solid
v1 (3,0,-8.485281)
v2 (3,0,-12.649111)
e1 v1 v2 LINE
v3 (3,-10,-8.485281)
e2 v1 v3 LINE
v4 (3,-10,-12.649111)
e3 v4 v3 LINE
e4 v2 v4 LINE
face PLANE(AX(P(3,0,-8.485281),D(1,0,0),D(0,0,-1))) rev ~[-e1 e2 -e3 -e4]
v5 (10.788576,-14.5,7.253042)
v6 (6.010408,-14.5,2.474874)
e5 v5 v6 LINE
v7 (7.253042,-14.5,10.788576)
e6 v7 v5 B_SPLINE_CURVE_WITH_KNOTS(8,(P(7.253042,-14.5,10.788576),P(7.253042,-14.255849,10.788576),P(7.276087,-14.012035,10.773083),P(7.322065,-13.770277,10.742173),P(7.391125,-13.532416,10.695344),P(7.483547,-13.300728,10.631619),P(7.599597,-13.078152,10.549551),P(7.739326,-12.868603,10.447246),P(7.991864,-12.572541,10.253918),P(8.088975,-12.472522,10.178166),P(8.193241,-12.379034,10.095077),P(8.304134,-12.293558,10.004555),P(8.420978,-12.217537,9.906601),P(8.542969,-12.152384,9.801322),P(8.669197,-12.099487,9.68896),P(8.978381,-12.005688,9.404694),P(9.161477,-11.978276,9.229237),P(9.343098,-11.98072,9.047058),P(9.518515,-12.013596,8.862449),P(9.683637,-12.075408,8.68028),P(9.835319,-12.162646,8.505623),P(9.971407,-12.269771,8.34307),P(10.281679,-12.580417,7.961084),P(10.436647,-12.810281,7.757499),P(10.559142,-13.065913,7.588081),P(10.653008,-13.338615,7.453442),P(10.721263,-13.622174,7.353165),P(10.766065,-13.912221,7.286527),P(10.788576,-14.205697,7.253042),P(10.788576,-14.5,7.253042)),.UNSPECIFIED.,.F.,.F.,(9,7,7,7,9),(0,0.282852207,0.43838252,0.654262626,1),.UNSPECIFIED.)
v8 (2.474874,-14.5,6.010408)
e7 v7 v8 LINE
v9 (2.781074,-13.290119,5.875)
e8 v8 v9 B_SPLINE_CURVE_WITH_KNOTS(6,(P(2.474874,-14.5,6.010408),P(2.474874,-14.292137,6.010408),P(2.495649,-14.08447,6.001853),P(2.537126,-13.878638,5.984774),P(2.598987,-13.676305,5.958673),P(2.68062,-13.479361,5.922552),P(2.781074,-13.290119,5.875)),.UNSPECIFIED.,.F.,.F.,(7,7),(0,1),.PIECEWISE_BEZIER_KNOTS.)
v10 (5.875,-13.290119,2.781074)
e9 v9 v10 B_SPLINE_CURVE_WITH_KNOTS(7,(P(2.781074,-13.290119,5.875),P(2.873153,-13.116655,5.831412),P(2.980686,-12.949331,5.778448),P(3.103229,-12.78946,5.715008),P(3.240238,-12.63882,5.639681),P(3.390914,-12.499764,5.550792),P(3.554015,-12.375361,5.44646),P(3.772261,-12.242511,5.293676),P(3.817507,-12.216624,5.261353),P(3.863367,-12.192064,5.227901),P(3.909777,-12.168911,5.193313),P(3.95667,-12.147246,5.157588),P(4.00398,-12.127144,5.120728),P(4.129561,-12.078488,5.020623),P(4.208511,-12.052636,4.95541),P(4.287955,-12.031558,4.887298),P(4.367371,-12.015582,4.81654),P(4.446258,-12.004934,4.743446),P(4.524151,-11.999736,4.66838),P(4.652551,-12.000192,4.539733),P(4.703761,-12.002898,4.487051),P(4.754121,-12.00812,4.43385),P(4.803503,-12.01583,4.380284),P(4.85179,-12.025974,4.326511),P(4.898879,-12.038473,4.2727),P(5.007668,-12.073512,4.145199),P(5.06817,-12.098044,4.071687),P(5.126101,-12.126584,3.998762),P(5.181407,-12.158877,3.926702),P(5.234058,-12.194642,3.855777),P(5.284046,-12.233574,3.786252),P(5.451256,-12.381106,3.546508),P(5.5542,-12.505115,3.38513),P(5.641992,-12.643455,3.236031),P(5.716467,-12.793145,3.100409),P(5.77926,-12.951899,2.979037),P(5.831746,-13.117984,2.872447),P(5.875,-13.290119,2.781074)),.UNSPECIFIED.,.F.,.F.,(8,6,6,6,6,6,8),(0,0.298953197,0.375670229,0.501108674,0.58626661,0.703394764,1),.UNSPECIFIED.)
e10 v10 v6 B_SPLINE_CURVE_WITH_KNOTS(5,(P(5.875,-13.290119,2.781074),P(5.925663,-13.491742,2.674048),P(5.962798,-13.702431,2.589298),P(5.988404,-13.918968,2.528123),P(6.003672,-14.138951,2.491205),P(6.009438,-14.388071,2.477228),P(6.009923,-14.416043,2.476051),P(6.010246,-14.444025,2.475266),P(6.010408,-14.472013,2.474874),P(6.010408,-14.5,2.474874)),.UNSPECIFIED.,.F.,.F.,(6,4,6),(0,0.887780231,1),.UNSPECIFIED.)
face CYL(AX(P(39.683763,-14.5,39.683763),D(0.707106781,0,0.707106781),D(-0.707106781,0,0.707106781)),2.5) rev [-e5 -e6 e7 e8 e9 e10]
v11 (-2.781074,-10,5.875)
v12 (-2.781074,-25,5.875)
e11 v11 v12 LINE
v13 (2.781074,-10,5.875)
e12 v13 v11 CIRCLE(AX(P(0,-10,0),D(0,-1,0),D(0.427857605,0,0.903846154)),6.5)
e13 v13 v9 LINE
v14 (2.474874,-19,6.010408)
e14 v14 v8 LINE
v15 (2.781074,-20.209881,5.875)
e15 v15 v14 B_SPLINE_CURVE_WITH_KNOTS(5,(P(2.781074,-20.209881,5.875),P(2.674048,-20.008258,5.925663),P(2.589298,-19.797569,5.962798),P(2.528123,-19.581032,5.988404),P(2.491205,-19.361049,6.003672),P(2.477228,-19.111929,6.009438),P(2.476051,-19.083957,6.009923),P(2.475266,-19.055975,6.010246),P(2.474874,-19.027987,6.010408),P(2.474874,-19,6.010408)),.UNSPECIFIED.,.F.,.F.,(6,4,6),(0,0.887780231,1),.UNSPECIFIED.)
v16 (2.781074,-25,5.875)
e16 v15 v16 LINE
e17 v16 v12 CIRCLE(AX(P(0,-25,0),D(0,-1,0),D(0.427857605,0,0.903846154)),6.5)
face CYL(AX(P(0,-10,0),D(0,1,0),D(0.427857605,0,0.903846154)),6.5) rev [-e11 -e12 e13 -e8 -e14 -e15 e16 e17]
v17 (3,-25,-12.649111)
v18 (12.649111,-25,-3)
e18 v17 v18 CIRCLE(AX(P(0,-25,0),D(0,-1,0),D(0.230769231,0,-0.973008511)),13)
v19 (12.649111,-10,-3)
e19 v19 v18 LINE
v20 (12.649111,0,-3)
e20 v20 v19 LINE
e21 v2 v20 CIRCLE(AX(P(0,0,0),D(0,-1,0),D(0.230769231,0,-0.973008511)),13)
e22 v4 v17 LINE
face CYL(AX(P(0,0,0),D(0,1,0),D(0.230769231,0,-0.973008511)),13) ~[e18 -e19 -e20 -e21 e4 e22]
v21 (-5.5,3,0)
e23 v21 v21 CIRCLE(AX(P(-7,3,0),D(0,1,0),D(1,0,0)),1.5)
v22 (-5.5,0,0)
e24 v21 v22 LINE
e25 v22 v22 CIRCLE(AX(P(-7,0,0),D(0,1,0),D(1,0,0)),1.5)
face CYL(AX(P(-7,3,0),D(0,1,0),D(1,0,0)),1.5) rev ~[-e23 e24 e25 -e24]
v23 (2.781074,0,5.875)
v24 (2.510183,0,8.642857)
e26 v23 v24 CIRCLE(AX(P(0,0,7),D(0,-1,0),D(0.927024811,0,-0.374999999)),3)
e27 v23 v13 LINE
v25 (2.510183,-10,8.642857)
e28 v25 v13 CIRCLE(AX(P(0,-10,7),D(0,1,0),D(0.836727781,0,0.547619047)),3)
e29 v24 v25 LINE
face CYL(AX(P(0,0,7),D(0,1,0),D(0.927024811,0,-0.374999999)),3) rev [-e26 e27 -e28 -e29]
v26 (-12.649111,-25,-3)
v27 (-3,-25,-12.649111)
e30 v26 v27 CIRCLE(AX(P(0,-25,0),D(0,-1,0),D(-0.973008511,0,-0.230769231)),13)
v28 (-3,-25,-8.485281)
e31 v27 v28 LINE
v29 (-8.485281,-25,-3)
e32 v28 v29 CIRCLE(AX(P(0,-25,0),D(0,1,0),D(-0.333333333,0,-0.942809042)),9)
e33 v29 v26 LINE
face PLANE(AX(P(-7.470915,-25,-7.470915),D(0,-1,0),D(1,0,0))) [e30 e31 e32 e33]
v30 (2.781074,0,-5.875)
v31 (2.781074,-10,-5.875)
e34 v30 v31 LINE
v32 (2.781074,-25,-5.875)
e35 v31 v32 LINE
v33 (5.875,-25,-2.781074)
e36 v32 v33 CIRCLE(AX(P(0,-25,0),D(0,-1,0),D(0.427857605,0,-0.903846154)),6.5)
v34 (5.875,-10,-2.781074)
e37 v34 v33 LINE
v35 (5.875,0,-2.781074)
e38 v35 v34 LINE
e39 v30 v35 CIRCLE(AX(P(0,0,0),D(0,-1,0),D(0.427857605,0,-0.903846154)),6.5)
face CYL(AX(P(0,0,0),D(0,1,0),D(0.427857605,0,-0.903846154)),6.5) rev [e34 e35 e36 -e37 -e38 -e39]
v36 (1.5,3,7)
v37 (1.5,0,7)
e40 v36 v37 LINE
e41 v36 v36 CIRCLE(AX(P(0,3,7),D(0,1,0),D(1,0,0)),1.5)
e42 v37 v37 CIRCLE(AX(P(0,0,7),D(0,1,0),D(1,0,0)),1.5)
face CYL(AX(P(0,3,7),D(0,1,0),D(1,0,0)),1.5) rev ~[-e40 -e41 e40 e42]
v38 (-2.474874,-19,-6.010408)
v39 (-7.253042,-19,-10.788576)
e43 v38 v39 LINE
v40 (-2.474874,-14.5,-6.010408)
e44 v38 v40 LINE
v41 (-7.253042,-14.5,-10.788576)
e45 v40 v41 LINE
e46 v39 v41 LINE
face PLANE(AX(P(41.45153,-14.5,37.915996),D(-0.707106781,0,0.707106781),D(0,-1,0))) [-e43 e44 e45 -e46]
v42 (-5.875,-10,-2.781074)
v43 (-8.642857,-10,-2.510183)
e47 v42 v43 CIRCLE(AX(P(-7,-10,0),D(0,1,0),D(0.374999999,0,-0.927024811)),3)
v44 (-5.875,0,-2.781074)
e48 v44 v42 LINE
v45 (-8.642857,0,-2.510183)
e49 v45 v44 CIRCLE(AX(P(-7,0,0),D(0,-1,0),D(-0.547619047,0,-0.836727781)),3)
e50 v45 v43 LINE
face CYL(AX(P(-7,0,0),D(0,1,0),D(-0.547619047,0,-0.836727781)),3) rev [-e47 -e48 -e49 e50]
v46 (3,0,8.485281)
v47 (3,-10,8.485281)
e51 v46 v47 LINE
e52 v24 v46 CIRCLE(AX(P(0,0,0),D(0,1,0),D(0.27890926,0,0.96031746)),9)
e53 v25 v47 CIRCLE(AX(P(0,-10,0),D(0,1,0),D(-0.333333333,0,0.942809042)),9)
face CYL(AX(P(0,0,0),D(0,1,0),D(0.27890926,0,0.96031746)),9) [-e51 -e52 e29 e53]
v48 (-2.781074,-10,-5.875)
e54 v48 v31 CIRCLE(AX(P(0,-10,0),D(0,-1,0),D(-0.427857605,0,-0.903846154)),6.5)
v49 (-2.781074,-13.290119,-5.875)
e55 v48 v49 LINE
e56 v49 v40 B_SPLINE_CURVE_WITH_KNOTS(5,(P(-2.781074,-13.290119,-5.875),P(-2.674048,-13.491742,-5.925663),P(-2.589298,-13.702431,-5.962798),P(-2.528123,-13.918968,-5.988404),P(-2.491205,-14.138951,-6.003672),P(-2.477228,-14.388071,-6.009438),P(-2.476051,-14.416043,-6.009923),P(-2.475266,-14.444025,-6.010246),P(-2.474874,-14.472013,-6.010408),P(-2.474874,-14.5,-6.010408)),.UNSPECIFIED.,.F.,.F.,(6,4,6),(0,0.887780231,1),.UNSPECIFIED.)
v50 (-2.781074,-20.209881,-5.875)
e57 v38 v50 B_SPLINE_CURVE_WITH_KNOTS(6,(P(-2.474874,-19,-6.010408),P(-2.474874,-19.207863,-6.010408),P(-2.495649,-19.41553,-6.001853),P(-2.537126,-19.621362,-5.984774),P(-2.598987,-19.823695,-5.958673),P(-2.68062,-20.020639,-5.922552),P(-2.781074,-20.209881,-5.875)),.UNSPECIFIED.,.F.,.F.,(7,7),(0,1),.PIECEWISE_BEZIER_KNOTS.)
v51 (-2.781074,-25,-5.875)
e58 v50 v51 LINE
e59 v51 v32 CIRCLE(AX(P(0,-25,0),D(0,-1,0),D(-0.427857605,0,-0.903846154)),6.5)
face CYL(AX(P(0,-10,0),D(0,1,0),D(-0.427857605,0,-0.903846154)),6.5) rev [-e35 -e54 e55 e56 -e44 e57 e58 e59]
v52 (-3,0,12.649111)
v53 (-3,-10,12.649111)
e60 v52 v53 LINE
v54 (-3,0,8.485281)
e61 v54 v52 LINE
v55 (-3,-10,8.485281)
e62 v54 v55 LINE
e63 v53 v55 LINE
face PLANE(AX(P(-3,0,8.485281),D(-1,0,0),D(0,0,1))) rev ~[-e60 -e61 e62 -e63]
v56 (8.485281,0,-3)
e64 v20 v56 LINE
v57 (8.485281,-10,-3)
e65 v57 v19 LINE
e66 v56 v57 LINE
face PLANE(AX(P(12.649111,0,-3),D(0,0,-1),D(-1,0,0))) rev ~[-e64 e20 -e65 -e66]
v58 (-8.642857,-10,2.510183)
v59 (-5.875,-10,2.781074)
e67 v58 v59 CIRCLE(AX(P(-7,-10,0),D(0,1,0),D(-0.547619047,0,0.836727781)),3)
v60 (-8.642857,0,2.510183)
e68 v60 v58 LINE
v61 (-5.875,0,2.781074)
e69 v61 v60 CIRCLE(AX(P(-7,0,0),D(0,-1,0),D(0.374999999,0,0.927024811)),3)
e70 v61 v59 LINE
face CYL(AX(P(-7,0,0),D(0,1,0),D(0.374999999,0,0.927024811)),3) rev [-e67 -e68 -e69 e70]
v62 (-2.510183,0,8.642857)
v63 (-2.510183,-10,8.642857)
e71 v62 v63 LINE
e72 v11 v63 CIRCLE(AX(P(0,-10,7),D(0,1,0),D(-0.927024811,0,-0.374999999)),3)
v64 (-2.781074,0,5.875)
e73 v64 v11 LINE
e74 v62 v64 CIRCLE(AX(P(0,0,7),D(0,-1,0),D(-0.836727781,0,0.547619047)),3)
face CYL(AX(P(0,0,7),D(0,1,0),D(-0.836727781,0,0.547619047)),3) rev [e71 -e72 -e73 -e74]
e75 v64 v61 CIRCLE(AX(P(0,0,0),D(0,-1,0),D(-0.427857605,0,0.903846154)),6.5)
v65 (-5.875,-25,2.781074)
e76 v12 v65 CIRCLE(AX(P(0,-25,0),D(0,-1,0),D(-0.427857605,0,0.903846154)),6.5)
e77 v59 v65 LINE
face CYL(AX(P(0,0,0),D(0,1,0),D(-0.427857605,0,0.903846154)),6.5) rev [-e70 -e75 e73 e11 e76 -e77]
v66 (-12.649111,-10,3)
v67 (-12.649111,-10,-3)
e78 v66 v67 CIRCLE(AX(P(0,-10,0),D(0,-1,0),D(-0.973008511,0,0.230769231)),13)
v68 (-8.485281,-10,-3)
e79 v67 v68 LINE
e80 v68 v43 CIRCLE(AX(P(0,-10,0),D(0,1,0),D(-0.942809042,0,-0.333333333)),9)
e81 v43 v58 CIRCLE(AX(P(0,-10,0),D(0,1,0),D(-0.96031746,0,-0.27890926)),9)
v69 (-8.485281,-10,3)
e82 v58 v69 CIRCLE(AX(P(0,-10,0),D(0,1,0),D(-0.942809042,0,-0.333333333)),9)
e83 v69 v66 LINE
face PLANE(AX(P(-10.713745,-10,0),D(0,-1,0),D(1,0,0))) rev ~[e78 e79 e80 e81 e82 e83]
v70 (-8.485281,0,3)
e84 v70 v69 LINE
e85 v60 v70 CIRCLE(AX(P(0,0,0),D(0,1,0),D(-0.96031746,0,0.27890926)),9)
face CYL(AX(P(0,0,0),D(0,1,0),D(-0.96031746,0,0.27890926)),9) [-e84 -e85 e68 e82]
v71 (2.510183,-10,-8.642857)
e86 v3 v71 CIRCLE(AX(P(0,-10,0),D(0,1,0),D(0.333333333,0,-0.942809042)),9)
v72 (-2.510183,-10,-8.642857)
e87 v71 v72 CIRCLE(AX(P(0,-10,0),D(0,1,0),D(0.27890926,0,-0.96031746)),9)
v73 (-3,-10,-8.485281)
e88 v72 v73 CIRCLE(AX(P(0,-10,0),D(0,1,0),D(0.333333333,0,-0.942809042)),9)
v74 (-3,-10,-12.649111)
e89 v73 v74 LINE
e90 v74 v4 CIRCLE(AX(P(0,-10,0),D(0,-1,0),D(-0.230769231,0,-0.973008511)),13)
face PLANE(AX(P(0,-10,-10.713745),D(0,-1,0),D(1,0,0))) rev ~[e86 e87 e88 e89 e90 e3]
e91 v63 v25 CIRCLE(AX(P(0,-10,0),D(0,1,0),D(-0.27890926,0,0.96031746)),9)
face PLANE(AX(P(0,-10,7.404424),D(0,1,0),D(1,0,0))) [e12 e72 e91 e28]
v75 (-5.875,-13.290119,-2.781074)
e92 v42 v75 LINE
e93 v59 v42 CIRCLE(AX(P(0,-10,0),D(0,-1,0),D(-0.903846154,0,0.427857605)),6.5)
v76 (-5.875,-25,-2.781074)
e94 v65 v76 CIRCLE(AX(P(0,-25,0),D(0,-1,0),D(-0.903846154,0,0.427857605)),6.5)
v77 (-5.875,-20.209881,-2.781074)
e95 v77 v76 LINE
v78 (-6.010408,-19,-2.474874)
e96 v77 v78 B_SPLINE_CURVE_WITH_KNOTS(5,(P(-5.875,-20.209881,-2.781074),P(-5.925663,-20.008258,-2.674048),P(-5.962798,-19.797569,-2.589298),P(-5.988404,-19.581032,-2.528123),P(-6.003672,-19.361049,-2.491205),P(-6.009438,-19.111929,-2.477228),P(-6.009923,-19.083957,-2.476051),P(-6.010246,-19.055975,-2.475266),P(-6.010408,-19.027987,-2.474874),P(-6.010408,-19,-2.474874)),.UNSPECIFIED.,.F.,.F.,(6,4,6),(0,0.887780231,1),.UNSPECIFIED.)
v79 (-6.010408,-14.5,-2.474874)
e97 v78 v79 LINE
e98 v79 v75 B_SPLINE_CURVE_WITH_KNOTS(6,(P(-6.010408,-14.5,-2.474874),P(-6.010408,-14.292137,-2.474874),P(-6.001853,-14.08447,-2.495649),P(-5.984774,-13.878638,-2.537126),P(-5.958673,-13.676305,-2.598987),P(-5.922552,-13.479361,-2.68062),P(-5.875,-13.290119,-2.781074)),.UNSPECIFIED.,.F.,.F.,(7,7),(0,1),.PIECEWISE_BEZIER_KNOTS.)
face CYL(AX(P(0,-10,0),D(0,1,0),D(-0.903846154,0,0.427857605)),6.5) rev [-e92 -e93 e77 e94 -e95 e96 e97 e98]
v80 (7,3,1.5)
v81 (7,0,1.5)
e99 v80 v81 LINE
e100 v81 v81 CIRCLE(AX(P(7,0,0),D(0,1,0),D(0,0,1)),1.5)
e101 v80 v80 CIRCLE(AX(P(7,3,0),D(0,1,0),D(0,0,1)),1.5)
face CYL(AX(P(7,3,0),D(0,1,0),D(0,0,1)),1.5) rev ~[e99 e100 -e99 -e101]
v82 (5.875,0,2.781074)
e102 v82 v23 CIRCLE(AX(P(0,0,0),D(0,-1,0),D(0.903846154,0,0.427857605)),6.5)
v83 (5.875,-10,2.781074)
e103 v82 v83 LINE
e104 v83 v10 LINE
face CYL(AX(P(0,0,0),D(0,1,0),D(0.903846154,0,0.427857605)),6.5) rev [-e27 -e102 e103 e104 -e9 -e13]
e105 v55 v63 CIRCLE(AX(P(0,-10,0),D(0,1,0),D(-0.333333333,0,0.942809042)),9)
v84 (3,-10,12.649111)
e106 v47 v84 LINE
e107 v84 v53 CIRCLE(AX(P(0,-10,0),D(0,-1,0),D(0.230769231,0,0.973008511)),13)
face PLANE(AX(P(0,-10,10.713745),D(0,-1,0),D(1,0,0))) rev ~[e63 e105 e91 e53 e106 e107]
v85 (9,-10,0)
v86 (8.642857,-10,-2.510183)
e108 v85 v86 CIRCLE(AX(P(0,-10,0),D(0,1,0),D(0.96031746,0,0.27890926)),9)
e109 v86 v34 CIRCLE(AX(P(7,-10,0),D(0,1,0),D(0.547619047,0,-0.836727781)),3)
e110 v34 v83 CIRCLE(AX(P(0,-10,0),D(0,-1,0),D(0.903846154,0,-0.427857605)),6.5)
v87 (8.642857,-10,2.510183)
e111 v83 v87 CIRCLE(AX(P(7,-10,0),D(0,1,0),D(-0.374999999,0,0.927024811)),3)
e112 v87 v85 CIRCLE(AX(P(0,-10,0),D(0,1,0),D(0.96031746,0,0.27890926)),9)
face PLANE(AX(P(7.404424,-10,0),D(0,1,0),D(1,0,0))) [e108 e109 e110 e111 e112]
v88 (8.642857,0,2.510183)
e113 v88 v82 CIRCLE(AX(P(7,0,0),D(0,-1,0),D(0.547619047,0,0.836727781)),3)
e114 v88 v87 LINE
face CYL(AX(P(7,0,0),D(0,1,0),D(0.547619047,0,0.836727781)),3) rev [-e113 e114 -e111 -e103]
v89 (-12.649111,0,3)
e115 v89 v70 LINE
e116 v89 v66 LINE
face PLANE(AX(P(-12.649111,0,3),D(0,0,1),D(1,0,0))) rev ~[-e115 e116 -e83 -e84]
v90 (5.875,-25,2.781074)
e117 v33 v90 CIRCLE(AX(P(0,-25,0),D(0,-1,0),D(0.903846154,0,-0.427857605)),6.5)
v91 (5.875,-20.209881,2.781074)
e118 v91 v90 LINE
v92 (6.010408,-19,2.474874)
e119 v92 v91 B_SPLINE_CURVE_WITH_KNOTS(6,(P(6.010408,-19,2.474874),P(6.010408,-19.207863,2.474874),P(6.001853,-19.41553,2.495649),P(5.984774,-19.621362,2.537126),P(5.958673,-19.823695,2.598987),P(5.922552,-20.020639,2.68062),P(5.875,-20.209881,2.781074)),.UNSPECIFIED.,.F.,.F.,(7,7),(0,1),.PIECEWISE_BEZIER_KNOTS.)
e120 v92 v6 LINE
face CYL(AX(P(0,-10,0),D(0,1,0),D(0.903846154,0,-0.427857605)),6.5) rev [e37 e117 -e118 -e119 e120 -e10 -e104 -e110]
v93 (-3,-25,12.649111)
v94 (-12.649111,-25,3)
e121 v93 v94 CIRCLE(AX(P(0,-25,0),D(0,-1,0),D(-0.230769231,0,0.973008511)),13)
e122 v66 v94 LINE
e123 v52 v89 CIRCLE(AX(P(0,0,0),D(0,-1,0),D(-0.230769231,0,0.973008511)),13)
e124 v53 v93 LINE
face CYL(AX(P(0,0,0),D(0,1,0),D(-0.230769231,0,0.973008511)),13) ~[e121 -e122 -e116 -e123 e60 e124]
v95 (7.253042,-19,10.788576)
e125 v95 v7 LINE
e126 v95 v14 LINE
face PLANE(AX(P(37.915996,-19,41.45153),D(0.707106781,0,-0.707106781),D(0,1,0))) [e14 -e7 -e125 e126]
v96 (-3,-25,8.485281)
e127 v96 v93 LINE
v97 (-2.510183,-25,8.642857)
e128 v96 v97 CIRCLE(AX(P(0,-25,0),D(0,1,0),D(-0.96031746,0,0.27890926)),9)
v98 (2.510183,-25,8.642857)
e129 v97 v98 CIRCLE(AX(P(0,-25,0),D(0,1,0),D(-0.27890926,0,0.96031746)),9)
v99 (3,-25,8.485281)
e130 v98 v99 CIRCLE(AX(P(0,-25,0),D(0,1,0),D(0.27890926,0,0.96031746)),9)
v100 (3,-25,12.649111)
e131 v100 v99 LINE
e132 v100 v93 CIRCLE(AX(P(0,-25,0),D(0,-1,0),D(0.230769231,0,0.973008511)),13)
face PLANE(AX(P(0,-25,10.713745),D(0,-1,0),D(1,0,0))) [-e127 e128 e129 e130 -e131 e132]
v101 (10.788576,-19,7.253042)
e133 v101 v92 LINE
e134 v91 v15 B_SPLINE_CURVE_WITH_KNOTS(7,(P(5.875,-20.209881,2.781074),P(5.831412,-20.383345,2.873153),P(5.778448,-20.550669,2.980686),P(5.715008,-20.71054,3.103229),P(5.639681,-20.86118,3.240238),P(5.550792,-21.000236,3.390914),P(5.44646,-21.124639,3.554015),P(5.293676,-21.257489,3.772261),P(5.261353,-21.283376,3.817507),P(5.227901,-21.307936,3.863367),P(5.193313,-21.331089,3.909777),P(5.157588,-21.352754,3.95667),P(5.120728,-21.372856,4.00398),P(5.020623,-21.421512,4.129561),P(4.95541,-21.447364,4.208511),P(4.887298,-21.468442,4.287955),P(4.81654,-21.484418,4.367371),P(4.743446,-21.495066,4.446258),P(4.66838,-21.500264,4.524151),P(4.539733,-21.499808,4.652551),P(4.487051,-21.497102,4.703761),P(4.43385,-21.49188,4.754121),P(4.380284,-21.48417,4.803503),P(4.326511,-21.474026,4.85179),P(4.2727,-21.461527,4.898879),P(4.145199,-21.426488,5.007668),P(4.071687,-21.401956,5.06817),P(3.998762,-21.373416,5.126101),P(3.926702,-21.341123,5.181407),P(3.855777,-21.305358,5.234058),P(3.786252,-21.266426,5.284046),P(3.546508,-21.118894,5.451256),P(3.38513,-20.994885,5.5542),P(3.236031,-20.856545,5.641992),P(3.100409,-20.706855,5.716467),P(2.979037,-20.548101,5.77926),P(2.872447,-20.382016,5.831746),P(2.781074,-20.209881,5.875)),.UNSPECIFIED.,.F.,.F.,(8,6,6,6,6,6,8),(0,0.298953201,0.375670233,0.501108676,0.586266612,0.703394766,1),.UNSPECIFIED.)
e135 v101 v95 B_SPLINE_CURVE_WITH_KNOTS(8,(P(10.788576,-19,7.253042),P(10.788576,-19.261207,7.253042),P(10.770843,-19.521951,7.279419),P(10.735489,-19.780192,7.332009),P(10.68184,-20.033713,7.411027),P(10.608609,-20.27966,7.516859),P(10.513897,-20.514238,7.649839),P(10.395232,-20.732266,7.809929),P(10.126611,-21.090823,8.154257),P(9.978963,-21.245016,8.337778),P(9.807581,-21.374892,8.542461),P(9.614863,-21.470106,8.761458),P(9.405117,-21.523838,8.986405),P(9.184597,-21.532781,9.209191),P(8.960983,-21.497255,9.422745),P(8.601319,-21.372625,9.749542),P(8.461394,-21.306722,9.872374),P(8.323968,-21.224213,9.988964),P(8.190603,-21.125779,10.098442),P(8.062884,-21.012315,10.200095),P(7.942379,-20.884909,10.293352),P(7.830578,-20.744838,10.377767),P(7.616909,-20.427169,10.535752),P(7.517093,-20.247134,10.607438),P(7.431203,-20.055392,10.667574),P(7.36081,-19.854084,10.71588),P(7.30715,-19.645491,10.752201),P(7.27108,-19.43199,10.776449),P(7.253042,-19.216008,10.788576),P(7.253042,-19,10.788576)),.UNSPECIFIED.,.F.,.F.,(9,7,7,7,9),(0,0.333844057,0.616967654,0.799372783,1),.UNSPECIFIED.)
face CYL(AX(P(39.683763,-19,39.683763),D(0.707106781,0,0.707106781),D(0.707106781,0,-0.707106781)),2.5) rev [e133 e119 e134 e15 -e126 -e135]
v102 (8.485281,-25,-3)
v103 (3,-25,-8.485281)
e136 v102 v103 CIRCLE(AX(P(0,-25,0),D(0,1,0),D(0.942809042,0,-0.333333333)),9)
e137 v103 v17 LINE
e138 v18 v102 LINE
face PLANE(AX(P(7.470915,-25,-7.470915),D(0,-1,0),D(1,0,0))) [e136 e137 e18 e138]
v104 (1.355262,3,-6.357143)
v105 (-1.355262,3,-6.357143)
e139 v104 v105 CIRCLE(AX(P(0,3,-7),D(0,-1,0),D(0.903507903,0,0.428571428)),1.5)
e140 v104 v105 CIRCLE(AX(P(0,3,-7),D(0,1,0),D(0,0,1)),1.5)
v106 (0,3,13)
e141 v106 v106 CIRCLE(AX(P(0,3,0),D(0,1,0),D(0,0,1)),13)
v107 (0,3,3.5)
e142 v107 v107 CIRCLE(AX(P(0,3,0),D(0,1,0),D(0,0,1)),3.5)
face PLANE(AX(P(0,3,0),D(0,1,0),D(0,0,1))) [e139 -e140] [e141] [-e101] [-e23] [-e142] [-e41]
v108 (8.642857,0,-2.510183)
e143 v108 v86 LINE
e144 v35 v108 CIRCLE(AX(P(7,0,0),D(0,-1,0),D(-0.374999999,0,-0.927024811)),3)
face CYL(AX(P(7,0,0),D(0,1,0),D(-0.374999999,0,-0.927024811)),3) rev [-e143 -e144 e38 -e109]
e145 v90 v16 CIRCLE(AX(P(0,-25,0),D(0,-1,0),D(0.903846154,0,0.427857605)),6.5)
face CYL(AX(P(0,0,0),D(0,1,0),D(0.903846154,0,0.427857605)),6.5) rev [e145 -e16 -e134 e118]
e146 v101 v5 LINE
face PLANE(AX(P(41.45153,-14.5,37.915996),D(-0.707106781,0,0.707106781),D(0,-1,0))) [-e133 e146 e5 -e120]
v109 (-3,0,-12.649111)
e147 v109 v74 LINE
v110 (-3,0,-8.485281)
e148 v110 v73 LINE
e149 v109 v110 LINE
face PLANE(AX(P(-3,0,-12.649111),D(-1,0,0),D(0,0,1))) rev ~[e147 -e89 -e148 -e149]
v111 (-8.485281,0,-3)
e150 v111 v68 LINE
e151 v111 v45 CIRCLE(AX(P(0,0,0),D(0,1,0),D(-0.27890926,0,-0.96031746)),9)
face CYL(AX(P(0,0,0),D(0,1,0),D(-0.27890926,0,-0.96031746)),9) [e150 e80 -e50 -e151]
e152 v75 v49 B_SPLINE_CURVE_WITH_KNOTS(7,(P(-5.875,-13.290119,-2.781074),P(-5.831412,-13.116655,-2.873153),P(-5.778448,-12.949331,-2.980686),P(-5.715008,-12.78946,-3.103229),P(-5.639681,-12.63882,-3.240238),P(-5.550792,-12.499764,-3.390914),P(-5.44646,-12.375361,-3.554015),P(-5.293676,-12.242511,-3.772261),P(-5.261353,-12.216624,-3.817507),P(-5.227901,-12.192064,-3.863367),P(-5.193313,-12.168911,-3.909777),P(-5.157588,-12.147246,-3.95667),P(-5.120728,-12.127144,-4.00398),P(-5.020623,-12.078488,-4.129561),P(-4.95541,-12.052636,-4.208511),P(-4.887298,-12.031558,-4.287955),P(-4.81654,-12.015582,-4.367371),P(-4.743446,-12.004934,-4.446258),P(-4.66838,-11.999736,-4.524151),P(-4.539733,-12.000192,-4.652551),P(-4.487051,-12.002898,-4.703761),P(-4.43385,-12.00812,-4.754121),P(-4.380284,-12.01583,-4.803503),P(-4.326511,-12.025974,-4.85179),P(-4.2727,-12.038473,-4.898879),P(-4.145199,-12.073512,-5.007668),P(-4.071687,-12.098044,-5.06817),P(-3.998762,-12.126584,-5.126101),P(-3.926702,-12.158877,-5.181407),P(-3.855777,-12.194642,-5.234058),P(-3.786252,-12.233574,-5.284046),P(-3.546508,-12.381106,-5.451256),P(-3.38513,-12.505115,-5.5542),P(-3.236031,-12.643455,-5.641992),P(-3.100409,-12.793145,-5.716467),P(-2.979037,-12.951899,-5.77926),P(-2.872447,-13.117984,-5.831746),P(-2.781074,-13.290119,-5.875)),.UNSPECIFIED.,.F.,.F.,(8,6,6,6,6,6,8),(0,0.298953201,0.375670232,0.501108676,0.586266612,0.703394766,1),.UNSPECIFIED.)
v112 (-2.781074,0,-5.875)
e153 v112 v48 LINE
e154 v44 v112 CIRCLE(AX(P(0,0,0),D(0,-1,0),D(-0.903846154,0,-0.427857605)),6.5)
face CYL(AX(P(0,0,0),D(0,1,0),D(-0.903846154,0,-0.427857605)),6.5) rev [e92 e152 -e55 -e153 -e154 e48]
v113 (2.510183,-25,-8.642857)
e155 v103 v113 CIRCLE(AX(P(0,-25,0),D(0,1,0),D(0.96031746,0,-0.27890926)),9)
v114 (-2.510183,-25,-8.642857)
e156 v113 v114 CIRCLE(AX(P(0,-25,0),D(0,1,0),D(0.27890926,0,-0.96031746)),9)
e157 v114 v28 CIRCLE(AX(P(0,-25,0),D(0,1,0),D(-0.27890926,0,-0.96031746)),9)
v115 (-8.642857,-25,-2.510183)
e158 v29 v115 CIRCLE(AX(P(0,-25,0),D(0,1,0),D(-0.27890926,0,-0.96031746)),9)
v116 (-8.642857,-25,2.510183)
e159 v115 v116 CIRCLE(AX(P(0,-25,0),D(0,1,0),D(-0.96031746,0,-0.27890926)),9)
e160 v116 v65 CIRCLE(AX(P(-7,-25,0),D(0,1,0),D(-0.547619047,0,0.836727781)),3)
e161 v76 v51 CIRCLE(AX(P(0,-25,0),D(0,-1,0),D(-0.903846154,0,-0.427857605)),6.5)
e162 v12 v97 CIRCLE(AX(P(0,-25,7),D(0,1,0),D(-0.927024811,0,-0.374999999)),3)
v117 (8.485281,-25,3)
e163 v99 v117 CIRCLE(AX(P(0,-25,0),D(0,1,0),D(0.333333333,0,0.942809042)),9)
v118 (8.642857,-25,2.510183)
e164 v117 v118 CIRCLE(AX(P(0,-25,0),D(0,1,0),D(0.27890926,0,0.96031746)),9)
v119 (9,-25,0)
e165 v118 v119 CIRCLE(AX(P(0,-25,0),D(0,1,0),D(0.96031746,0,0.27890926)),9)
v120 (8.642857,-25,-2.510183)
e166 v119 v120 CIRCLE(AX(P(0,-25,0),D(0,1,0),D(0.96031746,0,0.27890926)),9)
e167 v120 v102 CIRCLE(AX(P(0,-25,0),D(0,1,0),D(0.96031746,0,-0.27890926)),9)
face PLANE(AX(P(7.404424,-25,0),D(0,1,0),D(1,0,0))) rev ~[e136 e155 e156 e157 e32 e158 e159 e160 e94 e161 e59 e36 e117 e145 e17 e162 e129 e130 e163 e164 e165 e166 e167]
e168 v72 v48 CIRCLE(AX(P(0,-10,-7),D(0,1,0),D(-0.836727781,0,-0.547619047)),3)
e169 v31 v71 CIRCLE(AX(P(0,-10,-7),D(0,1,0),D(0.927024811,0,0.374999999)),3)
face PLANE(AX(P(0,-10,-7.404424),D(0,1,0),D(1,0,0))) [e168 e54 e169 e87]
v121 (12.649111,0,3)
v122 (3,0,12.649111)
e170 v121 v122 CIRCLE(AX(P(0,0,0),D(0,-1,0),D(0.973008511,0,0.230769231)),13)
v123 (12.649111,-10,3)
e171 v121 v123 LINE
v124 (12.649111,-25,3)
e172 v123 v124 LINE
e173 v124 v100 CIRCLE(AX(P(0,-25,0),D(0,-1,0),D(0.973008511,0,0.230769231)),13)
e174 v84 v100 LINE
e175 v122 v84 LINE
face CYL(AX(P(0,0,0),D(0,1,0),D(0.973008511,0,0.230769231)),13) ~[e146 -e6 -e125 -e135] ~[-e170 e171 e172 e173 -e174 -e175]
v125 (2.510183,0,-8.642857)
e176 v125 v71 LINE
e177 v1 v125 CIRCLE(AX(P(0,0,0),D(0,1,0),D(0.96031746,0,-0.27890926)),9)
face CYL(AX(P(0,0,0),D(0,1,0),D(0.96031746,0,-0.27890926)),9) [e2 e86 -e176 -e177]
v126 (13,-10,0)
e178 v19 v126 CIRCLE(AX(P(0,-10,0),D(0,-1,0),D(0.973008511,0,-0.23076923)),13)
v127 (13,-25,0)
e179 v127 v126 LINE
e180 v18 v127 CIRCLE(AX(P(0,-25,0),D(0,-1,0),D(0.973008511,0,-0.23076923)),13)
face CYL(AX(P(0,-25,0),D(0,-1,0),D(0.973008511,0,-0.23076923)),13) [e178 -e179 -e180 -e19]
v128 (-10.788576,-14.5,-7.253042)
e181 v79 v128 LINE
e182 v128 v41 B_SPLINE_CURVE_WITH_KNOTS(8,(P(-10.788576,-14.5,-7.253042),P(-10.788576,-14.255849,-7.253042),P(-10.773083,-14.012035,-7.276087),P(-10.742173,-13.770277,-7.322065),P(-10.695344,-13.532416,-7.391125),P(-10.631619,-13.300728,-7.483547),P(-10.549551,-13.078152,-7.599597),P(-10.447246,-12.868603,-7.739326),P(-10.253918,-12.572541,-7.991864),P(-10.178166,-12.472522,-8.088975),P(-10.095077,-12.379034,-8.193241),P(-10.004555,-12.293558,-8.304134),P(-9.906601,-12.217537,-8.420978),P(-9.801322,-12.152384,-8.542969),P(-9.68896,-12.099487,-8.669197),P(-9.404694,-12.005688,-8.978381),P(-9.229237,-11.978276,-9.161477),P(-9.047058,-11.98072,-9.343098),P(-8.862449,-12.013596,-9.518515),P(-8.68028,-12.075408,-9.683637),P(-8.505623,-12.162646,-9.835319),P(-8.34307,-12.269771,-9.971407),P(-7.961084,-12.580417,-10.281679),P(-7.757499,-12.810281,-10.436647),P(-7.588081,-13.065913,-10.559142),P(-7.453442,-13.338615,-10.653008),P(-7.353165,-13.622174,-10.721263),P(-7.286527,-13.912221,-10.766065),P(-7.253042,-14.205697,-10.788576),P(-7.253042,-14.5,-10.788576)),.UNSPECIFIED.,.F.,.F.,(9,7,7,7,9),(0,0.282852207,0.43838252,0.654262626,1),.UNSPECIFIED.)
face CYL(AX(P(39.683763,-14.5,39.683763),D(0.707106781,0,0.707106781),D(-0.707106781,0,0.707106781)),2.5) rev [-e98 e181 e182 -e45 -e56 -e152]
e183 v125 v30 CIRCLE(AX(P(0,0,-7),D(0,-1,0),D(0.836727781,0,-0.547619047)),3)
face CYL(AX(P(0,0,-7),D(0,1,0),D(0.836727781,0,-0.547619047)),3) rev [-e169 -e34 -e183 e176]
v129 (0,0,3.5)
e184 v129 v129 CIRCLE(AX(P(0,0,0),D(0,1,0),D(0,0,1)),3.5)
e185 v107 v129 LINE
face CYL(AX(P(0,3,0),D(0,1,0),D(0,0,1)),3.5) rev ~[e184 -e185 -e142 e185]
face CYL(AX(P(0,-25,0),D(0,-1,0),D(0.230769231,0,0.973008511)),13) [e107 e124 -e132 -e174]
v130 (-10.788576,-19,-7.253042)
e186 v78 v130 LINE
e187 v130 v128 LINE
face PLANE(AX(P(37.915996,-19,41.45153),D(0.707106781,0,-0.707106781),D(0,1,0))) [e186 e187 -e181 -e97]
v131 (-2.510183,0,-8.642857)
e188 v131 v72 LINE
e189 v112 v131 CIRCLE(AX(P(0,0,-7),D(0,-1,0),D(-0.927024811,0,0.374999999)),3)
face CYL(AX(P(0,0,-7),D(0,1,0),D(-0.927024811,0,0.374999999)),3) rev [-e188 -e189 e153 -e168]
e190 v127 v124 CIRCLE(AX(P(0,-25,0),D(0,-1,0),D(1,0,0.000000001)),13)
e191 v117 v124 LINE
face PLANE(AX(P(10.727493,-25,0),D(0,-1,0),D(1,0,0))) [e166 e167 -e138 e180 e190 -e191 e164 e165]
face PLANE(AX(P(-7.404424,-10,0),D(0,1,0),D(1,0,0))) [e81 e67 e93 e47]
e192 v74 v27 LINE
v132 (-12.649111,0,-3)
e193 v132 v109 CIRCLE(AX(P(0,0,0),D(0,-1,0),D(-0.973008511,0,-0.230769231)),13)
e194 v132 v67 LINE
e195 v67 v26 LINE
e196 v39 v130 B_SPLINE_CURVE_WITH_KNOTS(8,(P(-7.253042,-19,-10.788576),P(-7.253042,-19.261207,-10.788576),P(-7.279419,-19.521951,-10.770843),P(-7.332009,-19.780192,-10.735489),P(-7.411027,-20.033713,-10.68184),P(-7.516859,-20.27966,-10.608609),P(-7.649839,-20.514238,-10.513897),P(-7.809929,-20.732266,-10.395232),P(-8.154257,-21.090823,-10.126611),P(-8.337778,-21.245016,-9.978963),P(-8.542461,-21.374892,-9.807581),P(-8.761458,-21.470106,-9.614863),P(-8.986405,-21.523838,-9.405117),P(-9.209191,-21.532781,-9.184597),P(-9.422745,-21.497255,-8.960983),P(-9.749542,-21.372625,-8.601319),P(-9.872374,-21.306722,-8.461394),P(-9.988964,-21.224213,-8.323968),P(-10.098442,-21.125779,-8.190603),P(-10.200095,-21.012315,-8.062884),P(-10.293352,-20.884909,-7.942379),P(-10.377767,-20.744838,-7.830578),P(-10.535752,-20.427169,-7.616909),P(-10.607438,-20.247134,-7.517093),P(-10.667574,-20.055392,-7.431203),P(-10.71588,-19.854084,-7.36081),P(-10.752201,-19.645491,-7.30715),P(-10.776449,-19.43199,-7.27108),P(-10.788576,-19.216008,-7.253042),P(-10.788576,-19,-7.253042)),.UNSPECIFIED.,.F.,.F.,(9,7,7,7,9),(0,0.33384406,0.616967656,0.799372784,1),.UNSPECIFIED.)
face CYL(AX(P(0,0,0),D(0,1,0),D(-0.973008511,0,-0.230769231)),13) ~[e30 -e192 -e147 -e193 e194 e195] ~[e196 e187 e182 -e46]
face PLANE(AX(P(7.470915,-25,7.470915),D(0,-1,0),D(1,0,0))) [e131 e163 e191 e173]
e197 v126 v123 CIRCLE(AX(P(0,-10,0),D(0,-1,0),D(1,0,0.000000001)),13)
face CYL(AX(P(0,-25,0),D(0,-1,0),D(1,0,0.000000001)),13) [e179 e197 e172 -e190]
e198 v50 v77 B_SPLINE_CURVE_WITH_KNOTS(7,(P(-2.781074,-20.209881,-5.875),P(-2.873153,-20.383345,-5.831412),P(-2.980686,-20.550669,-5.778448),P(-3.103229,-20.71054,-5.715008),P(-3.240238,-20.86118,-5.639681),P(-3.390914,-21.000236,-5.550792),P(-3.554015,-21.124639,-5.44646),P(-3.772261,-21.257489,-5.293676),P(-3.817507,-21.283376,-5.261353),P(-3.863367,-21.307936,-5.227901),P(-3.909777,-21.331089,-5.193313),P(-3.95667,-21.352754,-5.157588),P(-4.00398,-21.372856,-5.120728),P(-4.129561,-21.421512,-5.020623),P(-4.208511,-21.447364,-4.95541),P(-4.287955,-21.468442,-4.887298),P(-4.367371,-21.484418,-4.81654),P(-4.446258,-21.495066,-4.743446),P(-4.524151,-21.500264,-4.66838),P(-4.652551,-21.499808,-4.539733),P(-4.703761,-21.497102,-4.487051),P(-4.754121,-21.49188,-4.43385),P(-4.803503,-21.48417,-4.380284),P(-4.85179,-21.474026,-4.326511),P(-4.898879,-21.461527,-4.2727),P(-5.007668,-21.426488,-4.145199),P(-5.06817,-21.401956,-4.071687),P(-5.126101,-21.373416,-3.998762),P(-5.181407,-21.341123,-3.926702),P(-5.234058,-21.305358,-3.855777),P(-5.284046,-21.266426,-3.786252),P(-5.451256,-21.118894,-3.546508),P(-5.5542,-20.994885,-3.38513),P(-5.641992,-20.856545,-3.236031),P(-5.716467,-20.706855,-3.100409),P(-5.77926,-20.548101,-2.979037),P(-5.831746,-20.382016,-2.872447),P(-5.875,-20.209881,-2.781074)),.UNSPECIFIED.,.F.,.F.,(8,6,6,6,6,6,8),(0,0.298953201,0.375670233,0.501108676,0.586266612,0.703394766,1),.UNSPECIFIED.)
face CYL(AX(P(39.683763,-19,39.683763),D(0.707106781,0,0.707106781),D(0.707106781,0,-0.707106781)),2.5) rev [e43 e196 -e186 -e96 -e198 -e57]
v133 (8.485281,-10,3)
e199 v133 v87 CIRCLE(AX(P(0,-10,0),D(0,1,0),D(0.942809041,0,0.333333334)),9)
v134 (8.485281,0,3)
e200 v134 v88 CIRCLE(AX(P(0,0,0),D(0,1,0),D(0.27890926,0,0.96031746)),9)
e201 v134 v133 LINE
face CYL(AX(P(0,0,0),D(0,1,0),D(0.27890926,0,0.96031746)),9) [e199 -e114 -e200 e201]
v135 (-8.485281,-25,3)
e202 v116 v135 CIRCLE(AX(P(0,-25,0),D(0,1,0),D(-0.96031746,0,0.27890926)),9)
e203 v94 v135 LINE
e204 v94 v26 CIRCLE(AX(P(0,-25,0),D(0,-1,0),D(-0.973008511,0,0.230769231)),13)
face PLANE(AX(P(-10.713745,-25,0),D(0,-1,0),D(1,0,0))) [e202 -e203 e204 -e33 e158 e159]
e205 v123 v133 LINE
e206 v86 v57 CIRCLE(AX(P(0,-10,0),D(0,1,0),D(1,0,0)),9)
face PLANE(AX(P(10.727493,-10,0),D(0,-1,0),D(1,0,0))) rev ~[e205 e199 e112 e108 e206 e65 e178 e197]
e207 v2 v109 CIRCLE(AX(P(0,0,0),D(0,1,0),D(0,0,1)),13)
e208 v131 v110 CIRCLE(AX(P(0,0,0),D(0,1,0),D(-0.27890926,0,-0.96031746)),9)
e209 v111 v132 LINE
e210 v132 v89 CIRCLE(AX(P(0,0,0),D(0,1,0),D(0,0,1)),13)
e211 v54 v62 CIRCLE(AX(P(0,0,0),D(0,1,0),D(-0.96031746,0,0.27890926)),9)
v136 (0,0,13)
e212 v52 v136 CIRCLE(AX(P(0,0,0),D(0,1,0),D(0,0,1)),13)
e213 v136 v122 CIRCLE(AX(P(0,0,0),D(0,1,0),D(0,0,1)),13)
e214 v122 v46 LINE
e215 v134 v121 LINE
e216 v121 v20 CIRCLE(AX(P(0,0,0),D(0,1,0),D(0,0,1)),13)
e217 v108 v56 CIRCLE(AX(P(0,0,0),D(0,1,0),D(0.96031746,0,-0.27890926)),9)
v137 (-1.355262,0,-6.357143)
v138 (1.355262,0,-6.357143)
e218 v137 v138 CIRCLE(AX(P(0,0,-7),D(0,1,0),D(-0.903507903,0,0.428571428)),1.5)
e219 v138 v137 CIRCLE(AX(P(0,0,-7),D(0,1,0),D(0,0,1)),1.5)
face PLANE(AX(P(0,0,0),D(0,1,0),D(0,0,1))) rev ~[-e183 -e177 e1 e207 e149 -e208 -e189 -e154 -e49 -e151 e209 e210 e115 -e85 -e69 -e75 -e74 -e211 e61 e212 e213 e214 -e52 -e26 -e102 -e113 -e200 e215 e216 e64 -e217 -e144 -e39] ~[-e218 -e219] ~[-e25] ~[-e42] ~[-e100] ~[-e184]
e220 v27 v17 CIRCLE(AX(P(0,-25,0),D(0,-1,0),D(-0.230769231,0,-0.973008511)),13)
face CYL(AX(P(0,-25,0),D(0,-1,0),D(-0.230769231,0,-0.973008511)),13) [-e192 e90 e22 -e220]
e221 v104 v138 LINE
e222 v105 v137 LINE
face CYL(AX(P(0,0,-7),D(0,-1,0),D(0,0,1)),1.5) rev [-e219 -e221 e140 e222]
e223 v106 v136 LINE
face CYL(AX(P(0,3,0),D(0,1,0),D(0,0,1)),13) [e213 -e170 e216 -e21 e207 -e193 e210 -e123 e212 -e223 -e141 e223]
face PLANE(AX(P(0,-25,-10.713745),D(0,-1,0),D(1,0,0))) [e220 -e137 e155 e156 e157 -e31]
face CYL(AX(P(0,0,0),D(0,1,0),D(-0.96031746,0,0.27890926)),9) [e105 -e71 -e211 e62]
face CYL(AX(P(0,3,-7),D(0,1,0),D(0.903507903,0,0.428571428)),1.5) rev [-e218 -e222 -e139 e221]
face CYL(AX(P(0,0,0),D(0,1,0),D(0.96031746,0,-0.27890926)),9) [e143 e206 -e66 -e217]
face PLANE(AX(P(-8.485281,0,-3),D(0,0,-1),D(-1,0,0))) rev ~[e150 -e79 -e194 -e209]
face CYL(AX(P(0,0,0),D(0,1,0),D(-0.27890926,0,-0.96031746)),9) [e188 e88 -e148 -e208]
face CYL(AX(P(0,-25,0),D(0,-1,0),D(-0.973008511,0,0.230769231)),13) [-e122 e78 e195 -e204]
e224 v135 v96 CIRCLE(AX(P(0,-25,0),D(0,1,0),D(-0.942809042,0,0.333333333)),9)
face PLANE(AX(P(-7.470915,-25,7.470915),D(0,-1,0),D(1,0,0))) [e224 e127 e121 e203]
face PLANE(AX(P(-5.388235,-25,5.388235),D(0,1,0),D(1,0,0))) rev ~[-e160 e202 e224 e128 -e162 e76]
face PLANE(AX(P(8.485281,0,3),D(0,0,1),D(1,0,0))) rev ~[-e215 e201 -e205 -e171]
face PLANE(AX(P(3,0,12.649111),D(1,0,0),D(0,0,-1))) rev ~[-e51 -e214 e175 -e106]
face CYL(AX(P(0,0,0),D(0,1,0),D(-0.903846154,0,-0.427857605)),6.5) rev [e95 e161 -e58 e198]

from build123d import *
from build123d.topology import SkipClean

# Parameters (mm, degrees)
BOSS_EXTRUDE2_DEPTH     = 25
BOSS_EXTRUDE2_2_DEPTH   = 25
BOSS_EXTRUDE2_3_DEPTH   = 25
BOSS_EXTRUDE2_4_DEPTH   = 25
BOSS_EXTRUDE3_START     = 3
SKETCH1_4_R             = 13
SKETCH1_4_R_2           = 1.5
SKETCH1_4_R_3           = 3.5
BOSS_EXTRUDE3_DEPTH     = 3
SKETCH1_7_R             = 1.5
CUT_EXTRUDE2_DEPTH      = 3
BOSS_EXTRUDE4_START     = -10
BOSS_EXTRUDE4_DEPTH     = 15
BOSS_EXTRUDE6_DEPTH     = 25
BOSS_EXTRUDE7_DEPTH     = 15
CUT_EXTRUDE1_DEPTH      = 47.121315646
CUT_EXTRUDE1_DEPTH_BACK = 47.121315646


with BuildPart() as part:
    # Sketch1 → Boss-Extrude2 (new body)
    with BuildSketch(Plane(origin=(0, 0, 0), x_dir=(1, 0, 0), z_dir=(0, 1, 0))):
        with BuildLine():
            ThreePointArc((2.781074433, 5.875), (4.596194078, 4.596194078), (5.875, 2.781074433))
            ThreePointArc((5.875, 2.781074433), (7.29221482, 2.985734499), (8.642857143, 2.510183342))
            ThreePointArc((8.642857143, 2.510183342), (6.363961031, 6.363961031), (2.510183342, 8.642857143))
            ThreePointArc((2.510183342, 8.642857143), (2.985734499, 7.29221482), (2.781074433, 5.875))
        make_face()
    extrude(amount=-BOSS_EXTRUDE2_DEPTH)


with BuildPart() as body_2:
    # Sketch1 → Boss-Extrude2 2 (new body)
    with BuildSketch(Plane(origin=(0, 0, 0), x_dir=(1, 0, 0), z_dir=(0, 1, 0))):
        with BuildLine():
            ThreePointArc((8.642857143, -2.510183342), (7.29221482, -2.985734499), (5.875, -2.781074433))
            ThreePointArc((5.875, -2.781074433), (4.596194078, -4.596194078), (2.781074433, -5.875))
            ThreePointArc((2.781074433, -5.875), (2.985734499, -7.29221482), (2.510183342, -8.642857143))
            ThreePointArc((2.510183342, -8.642857143), (6.363961031, -6.363961031), (8.642857143, -2.510183342))
        make_face()
    extrude(amount=-BOSS_EXTRUDE2_2_DEPTH)


    add(part.part)  # Boss-Extrude3 merges part


with BuildPart() as body_3:
    # Sketch1 → Boss-Extrude2 3 (new body)
    with BuildSketch(Plane(origin=(0, 0, 0), x_dir=(1, 0, 0), z_dir=(0, 1, 0))):
        with BuildLine():
            ThreePointArc((-5.875, 2.781074433), (-4.596194078, 4.596194078), (-2.781074433, 5.875))
            ThreePointArc((-2.781074433, 5.875), (-2.985734499, 7.29221482), (-2.510183342, 8.642857143))
            ThreePointArc((-2.510183342, 8.642857143), (-6.363961031, 6.363961031), (-8.642857143, 2.510183342))
            ThreePointArc((-8.642857143, 2.510183342), (-7.29221482, 2.985734499), (-5.875, 2.781074433))
        make_face()
    extrude(amount=-BOSS_EXTRUDE2_3_DEPTH)


with BuildPart() as body_4:
    # Sketch1 → Boss-Extrude2 4 (new body)
    with BuildSketch(Plane(origin=(0, 0, 0), x_dir=(1, 0, 0), z_dir=(0, 1, 0))):
        with BuildLine():
            ThreePointArc((-2.510183342, -8.642857143), (-2.985734499, -7.29221482), (-2.781074433, -5.875))
            ThreePointArc((-2.781074433, -5.875), (-4.596194078, -4.596194078), (-5.875, -2.781074433))
            ThreePointArc((-5.875, -2.781074433), (-7.29221482, -2.985734499), (-8.642857143, -2.510183342))
            ThreePointArc((-8.642857143, -2.510183342), (-6.363961031, -6.363961031), (-2.510183342, -8.642857143))
        make_face()
    extrude(amount=-BOSS_EXTRUDE2_4_DEPTH)


with BuildPart() as body_2_1:
    add(body_2.part)

    add(body_3.part)  # Boss-Extrude3 merges body 3
    # Sketch1<4> → Boss-Extrude3 (add)
    with BuildSketch(Plane(origin=(0, 0, 0), x_dir=(1, 0, 0), z_dir=(0, 1, 0)).offset(BOSS_EXTRUDE3_START)):
        with Locations(Location((0, 0, 0), (0, 0, 270))):
            Circle(SKETCH1_4_R)
        with Locations(Location((7, 0, 0), (0, 0, 270))):
            Circle(SKETCH1_4_R_2, mode=Mode.SUBTRACT)
        with Locations((0, -7)):
            Circle(SKETCH1_4_R_2, mode=Mode.SUBTRACT)
        with Locations((-7, 0)):
            Circle(SKETCH1_4_R_2, mode=Mode.SUBTRACT)
        with Locations(Location((0, 0, 0), (0, 0, 270))):
            Circle(SKETCH1_4_R_3, mode=Mode.SUBTRACT)
        with BuildLine():
            ThreePointArc((1.355261854, 6.357142857), (0, 5.5), (-1.355261854, 6.357142857))
            ThreePointArc((-1.355261854, 6.357142857), (0, 6.5), (1.355261854, 6.357142857))
        make_face(mode=Mode.SUBTRACT)
    extrude(amount=-BOSS_EXTRUDE3_DEPTH)

    # Sketch1<7> → Cut-Extrude2 (cut)
    with BuildSketch(Plane(origin=(0, 0, 0), x_dir=(1, 0, 0), z_dir=(0, 1, 0))):
        with Locations(Location((0, 7, 0), (0, 0, 270))):
            Circle(SKETCH1_7_R)
    extrude(amount=CUT_EXTRUDE2_DEPTH, mode=Mode.SUBTRACT)

    # Sketch1<6> → Boss-Extrude4 (add)
    with BuildSketch(Plane(origin=(0, 0, 0), x_dir=(1, 0, 0), z_dir=(0, 1, 0)).offset(BOSS_EXTRUDE4_START)):
        with BuildLine():
            ThreePointArc((5.875, -2.781074433), (7.29221482, -2.985734499), (8.642857143, -2.510183342))
            ThreePointArc((8.642857143, -2.510183342), (9, 0), (8.642857143, 2.510183342))
            ThreePointArc((8.642857143, 2.510183342), (7.29221482, 2.985734499), (5.875, 2.781074433))
            ThreePointArc((5.875, 2.781074433), (6.5, 0), (5.875, -2.781074433))
        make_face()
        with BuildLine():
            ThreePointArc((2.781074433, 5.875), (2.985734499, 7.29221482), (2.510183342, 8.642857143))
            ThreePointArc((2.510183342, 8.642857143), (0, 9), (-2.510183342, 8.642857143))
            ThreePointArc((-2.510183342, 8.642857143), (-2.985734499, 7.29221482), (-2.781074433, 5.875))
            ThreePointArc((-2.781074433, 5.875), (0, 6.5), (2.781074433, 5.875))
        make_face()
        with BuildLine():
            ThreePointArc((2.510183342, -8.642857143), (2.985734499, -7.29221482), (2.781074433, -5.875))
            ThreePointArc((2.781074433, -5.875), (0, -6.5), (-2.781074433, -5.875))
            ThreePointArc((-2.781074433, -5.875), (-2.985734499, -7.29221482), (-2.510183342, -8.642857143))
            ThreePointArc((-2.510183342, -8.642857143), (0, -9), (2.510183342, -8.642857143))
        make_face()
        with BuildLine():
            ThreePointArc((-5.875, 2.781074433), (-7.29221482, 2.985734499), (-8.642857143, 2.510183342))
            ThreePointArc((-8.642857143, 2.510183342), (-9, 0), (-8.642857143, -2.510183342))
            ThreePointArc((-8.642857143, -2.510183342), (-7.29221482, -2.985734499), (-5.875, -2.781074433))
            ThreePointArc((-5.875, -2.781074433), (-6.5, 0), (-5.875, 2.781074433))
        make_face()
    extrude(amount=-BOSS_EXTRUDE4_DEPTH)


    with SkipClean():  # the faces are left unmerged after this step: merging them gives an invalid solid
        add(body_4.part)  # Boss-Extrude6 merges body 4
        # Sketch3 → Boss-Extrude6 (add)
        with BuildSketch(Plane.XZ):
            with BuildLine():
                Line((-8.485281374, -3), (-12.649110641, -3))
                ThreePointArc((-12.649110641, -3), (-9.192388155, -9.192388155), (-3, -12.649110641))
                Line((-3, -12.649110641), (-3, -8.485281374))
                ThreePointArc((-3, -8.485281374), (-6.363961031, -6.363961031), (-8.485281374, -3))
            make_face()
            with BuildLine():
                ThreePointArc((3, -12.649110641), (9.192388155, -9.192388155), (12.649110641, -3))
                Line((12.649110641, -3), (8.485281374, -3))
                ThreePointArc((8.485281374, -3), (6.363961031, -6.363961031), (3, -8.485281374))
                Line((3, -8.485281374), (3, -12.649110641))
            make_face()
            with BuildLine():
                ThreePointArc((12.649110641, 3), (9.192388155, 9.192388155), (3, 12.649110641))
                Line((3, 12.649110641), (3, 8.485281374))
                ThreePointArc((3, 8.485281374), (6.363961031, 6.363961031), (8.485281374, 3))
                Line((8.485281374, 3), (12.649110641, 3))
            make_face()
            with BuildLine():
                Line((-3, 8.485281374), (-3, 12.649110641))
                ThreePointArc((-3, 12.649110641), (-9.192388155, 9.192388155), (-12.649110641, 3))
                Line((-12.649110641, 3), (-8.485281374, 3))
                ThreePointArc((-8.485281374, 3), (-6.363961031, 6.363961031), (-3, 8.485281374))
            make_face()
        extrude(amount=BOSS_EXTRUDE6_DEPTH)

    # Sketch4 → Boss-Extrude7 (add)
    with SkipClean():  # the faces are left unmerged after this step: merging them gives an invalid solid
        with BuildSketch(Plane.XZ.offset(25)):
            with BuildLine():
                Line((3, -12.649110641), (3, -8.485281374))
                ThreePointArc((3, -8.485281374), (0, -9), (-3, -8.485281374))
                Line((-3, -8.485281374), (-3, -12.649110641))
                ThreePointArc((-3, -12.649110641), (0, -13), (3, -12.649110641))
            make_face()
            with BuildLine():
                ThreePointArc((-8.485281374, -3), (-9, 0), (-8.485281374, 3))
                Line((-8.485281374, 3), (-12.649110641, 3))
                ThreePointArc((-12.649110641, 3), (-13, 0), (-12.649110641, -3))
                Line((-12.649110641, -3), (-8.485281374, -3))
            make_face()
            with BuildLine():
                ThreePointArc((8.485281374, 3), (8.870387037, 1.521917809), (9, 0))
                ThreePointArc((9, 0), (8.870387037, -1.521917809), (8.485281374, -3))
                Line((8.485281374, -3), (12.649110641, -3))
                ThreePointArc((12.649110641, -3), (12.911979676, -1.510225425), (13, 0))
                ThreePointArc((13, 0), (12.911979676, 1.510225425), (12.649110641, 3))
                Line((12.649110641, 3), (8.485281374, 3))
            make_face()
            with BuildLine():
                ThreePointArc((-3, 8.485281374), (0, 9), (3, 8.485281374))
                Line((3, 8.485281374), (3, 12.649110641))
                ThreePointArc((3, 12.649110641), (0, 13), (-3, 12.649110641))
                Line((-3, 12.649110641), (-3, 8.485281374))
            make_face()
        extrude(amount=-BOSS_EXTRUDE7_DEPTH)

    # Sketch2 → Cut-Extrude1 (cut, two sides: drawn at the far end of the back side and taken through both)
    with SkipClean():  # the faces are left unmerged after this step: merging them gives an invalid solid
        with BuildSketch(Plane(origin=(20.02081528, 0, -7.292893219), x_dir=(-0.7071067811865485, 0, 0.7071067811865466), z_dir=(-0.7071067811865466, 0, -0.7071067811865485)).offset(-CUT_EXTRUDE1_DEPTH_BACK)):
            with BuildLine():
                Line((16.813708499, -14.5), (16.813708499, -19))
                ThreePointArc((16.813708499, -19), (19.313708499, -21.5), (21.813708499, -19))
                Line((21.813708499, -19), (21.813708499, -14.5))
                ThreePointArc((21.813708499, -14.5), (19.313708499, -12), (16.813708499, -14.5))
            make_face()
        extrude(amount=CUT_EXTRUDE1_DEPTH + CUT_EXTRUDE1_DEPTH_BACK, mode=Mode.SUBTRACT)


solid = body_2_1.part
